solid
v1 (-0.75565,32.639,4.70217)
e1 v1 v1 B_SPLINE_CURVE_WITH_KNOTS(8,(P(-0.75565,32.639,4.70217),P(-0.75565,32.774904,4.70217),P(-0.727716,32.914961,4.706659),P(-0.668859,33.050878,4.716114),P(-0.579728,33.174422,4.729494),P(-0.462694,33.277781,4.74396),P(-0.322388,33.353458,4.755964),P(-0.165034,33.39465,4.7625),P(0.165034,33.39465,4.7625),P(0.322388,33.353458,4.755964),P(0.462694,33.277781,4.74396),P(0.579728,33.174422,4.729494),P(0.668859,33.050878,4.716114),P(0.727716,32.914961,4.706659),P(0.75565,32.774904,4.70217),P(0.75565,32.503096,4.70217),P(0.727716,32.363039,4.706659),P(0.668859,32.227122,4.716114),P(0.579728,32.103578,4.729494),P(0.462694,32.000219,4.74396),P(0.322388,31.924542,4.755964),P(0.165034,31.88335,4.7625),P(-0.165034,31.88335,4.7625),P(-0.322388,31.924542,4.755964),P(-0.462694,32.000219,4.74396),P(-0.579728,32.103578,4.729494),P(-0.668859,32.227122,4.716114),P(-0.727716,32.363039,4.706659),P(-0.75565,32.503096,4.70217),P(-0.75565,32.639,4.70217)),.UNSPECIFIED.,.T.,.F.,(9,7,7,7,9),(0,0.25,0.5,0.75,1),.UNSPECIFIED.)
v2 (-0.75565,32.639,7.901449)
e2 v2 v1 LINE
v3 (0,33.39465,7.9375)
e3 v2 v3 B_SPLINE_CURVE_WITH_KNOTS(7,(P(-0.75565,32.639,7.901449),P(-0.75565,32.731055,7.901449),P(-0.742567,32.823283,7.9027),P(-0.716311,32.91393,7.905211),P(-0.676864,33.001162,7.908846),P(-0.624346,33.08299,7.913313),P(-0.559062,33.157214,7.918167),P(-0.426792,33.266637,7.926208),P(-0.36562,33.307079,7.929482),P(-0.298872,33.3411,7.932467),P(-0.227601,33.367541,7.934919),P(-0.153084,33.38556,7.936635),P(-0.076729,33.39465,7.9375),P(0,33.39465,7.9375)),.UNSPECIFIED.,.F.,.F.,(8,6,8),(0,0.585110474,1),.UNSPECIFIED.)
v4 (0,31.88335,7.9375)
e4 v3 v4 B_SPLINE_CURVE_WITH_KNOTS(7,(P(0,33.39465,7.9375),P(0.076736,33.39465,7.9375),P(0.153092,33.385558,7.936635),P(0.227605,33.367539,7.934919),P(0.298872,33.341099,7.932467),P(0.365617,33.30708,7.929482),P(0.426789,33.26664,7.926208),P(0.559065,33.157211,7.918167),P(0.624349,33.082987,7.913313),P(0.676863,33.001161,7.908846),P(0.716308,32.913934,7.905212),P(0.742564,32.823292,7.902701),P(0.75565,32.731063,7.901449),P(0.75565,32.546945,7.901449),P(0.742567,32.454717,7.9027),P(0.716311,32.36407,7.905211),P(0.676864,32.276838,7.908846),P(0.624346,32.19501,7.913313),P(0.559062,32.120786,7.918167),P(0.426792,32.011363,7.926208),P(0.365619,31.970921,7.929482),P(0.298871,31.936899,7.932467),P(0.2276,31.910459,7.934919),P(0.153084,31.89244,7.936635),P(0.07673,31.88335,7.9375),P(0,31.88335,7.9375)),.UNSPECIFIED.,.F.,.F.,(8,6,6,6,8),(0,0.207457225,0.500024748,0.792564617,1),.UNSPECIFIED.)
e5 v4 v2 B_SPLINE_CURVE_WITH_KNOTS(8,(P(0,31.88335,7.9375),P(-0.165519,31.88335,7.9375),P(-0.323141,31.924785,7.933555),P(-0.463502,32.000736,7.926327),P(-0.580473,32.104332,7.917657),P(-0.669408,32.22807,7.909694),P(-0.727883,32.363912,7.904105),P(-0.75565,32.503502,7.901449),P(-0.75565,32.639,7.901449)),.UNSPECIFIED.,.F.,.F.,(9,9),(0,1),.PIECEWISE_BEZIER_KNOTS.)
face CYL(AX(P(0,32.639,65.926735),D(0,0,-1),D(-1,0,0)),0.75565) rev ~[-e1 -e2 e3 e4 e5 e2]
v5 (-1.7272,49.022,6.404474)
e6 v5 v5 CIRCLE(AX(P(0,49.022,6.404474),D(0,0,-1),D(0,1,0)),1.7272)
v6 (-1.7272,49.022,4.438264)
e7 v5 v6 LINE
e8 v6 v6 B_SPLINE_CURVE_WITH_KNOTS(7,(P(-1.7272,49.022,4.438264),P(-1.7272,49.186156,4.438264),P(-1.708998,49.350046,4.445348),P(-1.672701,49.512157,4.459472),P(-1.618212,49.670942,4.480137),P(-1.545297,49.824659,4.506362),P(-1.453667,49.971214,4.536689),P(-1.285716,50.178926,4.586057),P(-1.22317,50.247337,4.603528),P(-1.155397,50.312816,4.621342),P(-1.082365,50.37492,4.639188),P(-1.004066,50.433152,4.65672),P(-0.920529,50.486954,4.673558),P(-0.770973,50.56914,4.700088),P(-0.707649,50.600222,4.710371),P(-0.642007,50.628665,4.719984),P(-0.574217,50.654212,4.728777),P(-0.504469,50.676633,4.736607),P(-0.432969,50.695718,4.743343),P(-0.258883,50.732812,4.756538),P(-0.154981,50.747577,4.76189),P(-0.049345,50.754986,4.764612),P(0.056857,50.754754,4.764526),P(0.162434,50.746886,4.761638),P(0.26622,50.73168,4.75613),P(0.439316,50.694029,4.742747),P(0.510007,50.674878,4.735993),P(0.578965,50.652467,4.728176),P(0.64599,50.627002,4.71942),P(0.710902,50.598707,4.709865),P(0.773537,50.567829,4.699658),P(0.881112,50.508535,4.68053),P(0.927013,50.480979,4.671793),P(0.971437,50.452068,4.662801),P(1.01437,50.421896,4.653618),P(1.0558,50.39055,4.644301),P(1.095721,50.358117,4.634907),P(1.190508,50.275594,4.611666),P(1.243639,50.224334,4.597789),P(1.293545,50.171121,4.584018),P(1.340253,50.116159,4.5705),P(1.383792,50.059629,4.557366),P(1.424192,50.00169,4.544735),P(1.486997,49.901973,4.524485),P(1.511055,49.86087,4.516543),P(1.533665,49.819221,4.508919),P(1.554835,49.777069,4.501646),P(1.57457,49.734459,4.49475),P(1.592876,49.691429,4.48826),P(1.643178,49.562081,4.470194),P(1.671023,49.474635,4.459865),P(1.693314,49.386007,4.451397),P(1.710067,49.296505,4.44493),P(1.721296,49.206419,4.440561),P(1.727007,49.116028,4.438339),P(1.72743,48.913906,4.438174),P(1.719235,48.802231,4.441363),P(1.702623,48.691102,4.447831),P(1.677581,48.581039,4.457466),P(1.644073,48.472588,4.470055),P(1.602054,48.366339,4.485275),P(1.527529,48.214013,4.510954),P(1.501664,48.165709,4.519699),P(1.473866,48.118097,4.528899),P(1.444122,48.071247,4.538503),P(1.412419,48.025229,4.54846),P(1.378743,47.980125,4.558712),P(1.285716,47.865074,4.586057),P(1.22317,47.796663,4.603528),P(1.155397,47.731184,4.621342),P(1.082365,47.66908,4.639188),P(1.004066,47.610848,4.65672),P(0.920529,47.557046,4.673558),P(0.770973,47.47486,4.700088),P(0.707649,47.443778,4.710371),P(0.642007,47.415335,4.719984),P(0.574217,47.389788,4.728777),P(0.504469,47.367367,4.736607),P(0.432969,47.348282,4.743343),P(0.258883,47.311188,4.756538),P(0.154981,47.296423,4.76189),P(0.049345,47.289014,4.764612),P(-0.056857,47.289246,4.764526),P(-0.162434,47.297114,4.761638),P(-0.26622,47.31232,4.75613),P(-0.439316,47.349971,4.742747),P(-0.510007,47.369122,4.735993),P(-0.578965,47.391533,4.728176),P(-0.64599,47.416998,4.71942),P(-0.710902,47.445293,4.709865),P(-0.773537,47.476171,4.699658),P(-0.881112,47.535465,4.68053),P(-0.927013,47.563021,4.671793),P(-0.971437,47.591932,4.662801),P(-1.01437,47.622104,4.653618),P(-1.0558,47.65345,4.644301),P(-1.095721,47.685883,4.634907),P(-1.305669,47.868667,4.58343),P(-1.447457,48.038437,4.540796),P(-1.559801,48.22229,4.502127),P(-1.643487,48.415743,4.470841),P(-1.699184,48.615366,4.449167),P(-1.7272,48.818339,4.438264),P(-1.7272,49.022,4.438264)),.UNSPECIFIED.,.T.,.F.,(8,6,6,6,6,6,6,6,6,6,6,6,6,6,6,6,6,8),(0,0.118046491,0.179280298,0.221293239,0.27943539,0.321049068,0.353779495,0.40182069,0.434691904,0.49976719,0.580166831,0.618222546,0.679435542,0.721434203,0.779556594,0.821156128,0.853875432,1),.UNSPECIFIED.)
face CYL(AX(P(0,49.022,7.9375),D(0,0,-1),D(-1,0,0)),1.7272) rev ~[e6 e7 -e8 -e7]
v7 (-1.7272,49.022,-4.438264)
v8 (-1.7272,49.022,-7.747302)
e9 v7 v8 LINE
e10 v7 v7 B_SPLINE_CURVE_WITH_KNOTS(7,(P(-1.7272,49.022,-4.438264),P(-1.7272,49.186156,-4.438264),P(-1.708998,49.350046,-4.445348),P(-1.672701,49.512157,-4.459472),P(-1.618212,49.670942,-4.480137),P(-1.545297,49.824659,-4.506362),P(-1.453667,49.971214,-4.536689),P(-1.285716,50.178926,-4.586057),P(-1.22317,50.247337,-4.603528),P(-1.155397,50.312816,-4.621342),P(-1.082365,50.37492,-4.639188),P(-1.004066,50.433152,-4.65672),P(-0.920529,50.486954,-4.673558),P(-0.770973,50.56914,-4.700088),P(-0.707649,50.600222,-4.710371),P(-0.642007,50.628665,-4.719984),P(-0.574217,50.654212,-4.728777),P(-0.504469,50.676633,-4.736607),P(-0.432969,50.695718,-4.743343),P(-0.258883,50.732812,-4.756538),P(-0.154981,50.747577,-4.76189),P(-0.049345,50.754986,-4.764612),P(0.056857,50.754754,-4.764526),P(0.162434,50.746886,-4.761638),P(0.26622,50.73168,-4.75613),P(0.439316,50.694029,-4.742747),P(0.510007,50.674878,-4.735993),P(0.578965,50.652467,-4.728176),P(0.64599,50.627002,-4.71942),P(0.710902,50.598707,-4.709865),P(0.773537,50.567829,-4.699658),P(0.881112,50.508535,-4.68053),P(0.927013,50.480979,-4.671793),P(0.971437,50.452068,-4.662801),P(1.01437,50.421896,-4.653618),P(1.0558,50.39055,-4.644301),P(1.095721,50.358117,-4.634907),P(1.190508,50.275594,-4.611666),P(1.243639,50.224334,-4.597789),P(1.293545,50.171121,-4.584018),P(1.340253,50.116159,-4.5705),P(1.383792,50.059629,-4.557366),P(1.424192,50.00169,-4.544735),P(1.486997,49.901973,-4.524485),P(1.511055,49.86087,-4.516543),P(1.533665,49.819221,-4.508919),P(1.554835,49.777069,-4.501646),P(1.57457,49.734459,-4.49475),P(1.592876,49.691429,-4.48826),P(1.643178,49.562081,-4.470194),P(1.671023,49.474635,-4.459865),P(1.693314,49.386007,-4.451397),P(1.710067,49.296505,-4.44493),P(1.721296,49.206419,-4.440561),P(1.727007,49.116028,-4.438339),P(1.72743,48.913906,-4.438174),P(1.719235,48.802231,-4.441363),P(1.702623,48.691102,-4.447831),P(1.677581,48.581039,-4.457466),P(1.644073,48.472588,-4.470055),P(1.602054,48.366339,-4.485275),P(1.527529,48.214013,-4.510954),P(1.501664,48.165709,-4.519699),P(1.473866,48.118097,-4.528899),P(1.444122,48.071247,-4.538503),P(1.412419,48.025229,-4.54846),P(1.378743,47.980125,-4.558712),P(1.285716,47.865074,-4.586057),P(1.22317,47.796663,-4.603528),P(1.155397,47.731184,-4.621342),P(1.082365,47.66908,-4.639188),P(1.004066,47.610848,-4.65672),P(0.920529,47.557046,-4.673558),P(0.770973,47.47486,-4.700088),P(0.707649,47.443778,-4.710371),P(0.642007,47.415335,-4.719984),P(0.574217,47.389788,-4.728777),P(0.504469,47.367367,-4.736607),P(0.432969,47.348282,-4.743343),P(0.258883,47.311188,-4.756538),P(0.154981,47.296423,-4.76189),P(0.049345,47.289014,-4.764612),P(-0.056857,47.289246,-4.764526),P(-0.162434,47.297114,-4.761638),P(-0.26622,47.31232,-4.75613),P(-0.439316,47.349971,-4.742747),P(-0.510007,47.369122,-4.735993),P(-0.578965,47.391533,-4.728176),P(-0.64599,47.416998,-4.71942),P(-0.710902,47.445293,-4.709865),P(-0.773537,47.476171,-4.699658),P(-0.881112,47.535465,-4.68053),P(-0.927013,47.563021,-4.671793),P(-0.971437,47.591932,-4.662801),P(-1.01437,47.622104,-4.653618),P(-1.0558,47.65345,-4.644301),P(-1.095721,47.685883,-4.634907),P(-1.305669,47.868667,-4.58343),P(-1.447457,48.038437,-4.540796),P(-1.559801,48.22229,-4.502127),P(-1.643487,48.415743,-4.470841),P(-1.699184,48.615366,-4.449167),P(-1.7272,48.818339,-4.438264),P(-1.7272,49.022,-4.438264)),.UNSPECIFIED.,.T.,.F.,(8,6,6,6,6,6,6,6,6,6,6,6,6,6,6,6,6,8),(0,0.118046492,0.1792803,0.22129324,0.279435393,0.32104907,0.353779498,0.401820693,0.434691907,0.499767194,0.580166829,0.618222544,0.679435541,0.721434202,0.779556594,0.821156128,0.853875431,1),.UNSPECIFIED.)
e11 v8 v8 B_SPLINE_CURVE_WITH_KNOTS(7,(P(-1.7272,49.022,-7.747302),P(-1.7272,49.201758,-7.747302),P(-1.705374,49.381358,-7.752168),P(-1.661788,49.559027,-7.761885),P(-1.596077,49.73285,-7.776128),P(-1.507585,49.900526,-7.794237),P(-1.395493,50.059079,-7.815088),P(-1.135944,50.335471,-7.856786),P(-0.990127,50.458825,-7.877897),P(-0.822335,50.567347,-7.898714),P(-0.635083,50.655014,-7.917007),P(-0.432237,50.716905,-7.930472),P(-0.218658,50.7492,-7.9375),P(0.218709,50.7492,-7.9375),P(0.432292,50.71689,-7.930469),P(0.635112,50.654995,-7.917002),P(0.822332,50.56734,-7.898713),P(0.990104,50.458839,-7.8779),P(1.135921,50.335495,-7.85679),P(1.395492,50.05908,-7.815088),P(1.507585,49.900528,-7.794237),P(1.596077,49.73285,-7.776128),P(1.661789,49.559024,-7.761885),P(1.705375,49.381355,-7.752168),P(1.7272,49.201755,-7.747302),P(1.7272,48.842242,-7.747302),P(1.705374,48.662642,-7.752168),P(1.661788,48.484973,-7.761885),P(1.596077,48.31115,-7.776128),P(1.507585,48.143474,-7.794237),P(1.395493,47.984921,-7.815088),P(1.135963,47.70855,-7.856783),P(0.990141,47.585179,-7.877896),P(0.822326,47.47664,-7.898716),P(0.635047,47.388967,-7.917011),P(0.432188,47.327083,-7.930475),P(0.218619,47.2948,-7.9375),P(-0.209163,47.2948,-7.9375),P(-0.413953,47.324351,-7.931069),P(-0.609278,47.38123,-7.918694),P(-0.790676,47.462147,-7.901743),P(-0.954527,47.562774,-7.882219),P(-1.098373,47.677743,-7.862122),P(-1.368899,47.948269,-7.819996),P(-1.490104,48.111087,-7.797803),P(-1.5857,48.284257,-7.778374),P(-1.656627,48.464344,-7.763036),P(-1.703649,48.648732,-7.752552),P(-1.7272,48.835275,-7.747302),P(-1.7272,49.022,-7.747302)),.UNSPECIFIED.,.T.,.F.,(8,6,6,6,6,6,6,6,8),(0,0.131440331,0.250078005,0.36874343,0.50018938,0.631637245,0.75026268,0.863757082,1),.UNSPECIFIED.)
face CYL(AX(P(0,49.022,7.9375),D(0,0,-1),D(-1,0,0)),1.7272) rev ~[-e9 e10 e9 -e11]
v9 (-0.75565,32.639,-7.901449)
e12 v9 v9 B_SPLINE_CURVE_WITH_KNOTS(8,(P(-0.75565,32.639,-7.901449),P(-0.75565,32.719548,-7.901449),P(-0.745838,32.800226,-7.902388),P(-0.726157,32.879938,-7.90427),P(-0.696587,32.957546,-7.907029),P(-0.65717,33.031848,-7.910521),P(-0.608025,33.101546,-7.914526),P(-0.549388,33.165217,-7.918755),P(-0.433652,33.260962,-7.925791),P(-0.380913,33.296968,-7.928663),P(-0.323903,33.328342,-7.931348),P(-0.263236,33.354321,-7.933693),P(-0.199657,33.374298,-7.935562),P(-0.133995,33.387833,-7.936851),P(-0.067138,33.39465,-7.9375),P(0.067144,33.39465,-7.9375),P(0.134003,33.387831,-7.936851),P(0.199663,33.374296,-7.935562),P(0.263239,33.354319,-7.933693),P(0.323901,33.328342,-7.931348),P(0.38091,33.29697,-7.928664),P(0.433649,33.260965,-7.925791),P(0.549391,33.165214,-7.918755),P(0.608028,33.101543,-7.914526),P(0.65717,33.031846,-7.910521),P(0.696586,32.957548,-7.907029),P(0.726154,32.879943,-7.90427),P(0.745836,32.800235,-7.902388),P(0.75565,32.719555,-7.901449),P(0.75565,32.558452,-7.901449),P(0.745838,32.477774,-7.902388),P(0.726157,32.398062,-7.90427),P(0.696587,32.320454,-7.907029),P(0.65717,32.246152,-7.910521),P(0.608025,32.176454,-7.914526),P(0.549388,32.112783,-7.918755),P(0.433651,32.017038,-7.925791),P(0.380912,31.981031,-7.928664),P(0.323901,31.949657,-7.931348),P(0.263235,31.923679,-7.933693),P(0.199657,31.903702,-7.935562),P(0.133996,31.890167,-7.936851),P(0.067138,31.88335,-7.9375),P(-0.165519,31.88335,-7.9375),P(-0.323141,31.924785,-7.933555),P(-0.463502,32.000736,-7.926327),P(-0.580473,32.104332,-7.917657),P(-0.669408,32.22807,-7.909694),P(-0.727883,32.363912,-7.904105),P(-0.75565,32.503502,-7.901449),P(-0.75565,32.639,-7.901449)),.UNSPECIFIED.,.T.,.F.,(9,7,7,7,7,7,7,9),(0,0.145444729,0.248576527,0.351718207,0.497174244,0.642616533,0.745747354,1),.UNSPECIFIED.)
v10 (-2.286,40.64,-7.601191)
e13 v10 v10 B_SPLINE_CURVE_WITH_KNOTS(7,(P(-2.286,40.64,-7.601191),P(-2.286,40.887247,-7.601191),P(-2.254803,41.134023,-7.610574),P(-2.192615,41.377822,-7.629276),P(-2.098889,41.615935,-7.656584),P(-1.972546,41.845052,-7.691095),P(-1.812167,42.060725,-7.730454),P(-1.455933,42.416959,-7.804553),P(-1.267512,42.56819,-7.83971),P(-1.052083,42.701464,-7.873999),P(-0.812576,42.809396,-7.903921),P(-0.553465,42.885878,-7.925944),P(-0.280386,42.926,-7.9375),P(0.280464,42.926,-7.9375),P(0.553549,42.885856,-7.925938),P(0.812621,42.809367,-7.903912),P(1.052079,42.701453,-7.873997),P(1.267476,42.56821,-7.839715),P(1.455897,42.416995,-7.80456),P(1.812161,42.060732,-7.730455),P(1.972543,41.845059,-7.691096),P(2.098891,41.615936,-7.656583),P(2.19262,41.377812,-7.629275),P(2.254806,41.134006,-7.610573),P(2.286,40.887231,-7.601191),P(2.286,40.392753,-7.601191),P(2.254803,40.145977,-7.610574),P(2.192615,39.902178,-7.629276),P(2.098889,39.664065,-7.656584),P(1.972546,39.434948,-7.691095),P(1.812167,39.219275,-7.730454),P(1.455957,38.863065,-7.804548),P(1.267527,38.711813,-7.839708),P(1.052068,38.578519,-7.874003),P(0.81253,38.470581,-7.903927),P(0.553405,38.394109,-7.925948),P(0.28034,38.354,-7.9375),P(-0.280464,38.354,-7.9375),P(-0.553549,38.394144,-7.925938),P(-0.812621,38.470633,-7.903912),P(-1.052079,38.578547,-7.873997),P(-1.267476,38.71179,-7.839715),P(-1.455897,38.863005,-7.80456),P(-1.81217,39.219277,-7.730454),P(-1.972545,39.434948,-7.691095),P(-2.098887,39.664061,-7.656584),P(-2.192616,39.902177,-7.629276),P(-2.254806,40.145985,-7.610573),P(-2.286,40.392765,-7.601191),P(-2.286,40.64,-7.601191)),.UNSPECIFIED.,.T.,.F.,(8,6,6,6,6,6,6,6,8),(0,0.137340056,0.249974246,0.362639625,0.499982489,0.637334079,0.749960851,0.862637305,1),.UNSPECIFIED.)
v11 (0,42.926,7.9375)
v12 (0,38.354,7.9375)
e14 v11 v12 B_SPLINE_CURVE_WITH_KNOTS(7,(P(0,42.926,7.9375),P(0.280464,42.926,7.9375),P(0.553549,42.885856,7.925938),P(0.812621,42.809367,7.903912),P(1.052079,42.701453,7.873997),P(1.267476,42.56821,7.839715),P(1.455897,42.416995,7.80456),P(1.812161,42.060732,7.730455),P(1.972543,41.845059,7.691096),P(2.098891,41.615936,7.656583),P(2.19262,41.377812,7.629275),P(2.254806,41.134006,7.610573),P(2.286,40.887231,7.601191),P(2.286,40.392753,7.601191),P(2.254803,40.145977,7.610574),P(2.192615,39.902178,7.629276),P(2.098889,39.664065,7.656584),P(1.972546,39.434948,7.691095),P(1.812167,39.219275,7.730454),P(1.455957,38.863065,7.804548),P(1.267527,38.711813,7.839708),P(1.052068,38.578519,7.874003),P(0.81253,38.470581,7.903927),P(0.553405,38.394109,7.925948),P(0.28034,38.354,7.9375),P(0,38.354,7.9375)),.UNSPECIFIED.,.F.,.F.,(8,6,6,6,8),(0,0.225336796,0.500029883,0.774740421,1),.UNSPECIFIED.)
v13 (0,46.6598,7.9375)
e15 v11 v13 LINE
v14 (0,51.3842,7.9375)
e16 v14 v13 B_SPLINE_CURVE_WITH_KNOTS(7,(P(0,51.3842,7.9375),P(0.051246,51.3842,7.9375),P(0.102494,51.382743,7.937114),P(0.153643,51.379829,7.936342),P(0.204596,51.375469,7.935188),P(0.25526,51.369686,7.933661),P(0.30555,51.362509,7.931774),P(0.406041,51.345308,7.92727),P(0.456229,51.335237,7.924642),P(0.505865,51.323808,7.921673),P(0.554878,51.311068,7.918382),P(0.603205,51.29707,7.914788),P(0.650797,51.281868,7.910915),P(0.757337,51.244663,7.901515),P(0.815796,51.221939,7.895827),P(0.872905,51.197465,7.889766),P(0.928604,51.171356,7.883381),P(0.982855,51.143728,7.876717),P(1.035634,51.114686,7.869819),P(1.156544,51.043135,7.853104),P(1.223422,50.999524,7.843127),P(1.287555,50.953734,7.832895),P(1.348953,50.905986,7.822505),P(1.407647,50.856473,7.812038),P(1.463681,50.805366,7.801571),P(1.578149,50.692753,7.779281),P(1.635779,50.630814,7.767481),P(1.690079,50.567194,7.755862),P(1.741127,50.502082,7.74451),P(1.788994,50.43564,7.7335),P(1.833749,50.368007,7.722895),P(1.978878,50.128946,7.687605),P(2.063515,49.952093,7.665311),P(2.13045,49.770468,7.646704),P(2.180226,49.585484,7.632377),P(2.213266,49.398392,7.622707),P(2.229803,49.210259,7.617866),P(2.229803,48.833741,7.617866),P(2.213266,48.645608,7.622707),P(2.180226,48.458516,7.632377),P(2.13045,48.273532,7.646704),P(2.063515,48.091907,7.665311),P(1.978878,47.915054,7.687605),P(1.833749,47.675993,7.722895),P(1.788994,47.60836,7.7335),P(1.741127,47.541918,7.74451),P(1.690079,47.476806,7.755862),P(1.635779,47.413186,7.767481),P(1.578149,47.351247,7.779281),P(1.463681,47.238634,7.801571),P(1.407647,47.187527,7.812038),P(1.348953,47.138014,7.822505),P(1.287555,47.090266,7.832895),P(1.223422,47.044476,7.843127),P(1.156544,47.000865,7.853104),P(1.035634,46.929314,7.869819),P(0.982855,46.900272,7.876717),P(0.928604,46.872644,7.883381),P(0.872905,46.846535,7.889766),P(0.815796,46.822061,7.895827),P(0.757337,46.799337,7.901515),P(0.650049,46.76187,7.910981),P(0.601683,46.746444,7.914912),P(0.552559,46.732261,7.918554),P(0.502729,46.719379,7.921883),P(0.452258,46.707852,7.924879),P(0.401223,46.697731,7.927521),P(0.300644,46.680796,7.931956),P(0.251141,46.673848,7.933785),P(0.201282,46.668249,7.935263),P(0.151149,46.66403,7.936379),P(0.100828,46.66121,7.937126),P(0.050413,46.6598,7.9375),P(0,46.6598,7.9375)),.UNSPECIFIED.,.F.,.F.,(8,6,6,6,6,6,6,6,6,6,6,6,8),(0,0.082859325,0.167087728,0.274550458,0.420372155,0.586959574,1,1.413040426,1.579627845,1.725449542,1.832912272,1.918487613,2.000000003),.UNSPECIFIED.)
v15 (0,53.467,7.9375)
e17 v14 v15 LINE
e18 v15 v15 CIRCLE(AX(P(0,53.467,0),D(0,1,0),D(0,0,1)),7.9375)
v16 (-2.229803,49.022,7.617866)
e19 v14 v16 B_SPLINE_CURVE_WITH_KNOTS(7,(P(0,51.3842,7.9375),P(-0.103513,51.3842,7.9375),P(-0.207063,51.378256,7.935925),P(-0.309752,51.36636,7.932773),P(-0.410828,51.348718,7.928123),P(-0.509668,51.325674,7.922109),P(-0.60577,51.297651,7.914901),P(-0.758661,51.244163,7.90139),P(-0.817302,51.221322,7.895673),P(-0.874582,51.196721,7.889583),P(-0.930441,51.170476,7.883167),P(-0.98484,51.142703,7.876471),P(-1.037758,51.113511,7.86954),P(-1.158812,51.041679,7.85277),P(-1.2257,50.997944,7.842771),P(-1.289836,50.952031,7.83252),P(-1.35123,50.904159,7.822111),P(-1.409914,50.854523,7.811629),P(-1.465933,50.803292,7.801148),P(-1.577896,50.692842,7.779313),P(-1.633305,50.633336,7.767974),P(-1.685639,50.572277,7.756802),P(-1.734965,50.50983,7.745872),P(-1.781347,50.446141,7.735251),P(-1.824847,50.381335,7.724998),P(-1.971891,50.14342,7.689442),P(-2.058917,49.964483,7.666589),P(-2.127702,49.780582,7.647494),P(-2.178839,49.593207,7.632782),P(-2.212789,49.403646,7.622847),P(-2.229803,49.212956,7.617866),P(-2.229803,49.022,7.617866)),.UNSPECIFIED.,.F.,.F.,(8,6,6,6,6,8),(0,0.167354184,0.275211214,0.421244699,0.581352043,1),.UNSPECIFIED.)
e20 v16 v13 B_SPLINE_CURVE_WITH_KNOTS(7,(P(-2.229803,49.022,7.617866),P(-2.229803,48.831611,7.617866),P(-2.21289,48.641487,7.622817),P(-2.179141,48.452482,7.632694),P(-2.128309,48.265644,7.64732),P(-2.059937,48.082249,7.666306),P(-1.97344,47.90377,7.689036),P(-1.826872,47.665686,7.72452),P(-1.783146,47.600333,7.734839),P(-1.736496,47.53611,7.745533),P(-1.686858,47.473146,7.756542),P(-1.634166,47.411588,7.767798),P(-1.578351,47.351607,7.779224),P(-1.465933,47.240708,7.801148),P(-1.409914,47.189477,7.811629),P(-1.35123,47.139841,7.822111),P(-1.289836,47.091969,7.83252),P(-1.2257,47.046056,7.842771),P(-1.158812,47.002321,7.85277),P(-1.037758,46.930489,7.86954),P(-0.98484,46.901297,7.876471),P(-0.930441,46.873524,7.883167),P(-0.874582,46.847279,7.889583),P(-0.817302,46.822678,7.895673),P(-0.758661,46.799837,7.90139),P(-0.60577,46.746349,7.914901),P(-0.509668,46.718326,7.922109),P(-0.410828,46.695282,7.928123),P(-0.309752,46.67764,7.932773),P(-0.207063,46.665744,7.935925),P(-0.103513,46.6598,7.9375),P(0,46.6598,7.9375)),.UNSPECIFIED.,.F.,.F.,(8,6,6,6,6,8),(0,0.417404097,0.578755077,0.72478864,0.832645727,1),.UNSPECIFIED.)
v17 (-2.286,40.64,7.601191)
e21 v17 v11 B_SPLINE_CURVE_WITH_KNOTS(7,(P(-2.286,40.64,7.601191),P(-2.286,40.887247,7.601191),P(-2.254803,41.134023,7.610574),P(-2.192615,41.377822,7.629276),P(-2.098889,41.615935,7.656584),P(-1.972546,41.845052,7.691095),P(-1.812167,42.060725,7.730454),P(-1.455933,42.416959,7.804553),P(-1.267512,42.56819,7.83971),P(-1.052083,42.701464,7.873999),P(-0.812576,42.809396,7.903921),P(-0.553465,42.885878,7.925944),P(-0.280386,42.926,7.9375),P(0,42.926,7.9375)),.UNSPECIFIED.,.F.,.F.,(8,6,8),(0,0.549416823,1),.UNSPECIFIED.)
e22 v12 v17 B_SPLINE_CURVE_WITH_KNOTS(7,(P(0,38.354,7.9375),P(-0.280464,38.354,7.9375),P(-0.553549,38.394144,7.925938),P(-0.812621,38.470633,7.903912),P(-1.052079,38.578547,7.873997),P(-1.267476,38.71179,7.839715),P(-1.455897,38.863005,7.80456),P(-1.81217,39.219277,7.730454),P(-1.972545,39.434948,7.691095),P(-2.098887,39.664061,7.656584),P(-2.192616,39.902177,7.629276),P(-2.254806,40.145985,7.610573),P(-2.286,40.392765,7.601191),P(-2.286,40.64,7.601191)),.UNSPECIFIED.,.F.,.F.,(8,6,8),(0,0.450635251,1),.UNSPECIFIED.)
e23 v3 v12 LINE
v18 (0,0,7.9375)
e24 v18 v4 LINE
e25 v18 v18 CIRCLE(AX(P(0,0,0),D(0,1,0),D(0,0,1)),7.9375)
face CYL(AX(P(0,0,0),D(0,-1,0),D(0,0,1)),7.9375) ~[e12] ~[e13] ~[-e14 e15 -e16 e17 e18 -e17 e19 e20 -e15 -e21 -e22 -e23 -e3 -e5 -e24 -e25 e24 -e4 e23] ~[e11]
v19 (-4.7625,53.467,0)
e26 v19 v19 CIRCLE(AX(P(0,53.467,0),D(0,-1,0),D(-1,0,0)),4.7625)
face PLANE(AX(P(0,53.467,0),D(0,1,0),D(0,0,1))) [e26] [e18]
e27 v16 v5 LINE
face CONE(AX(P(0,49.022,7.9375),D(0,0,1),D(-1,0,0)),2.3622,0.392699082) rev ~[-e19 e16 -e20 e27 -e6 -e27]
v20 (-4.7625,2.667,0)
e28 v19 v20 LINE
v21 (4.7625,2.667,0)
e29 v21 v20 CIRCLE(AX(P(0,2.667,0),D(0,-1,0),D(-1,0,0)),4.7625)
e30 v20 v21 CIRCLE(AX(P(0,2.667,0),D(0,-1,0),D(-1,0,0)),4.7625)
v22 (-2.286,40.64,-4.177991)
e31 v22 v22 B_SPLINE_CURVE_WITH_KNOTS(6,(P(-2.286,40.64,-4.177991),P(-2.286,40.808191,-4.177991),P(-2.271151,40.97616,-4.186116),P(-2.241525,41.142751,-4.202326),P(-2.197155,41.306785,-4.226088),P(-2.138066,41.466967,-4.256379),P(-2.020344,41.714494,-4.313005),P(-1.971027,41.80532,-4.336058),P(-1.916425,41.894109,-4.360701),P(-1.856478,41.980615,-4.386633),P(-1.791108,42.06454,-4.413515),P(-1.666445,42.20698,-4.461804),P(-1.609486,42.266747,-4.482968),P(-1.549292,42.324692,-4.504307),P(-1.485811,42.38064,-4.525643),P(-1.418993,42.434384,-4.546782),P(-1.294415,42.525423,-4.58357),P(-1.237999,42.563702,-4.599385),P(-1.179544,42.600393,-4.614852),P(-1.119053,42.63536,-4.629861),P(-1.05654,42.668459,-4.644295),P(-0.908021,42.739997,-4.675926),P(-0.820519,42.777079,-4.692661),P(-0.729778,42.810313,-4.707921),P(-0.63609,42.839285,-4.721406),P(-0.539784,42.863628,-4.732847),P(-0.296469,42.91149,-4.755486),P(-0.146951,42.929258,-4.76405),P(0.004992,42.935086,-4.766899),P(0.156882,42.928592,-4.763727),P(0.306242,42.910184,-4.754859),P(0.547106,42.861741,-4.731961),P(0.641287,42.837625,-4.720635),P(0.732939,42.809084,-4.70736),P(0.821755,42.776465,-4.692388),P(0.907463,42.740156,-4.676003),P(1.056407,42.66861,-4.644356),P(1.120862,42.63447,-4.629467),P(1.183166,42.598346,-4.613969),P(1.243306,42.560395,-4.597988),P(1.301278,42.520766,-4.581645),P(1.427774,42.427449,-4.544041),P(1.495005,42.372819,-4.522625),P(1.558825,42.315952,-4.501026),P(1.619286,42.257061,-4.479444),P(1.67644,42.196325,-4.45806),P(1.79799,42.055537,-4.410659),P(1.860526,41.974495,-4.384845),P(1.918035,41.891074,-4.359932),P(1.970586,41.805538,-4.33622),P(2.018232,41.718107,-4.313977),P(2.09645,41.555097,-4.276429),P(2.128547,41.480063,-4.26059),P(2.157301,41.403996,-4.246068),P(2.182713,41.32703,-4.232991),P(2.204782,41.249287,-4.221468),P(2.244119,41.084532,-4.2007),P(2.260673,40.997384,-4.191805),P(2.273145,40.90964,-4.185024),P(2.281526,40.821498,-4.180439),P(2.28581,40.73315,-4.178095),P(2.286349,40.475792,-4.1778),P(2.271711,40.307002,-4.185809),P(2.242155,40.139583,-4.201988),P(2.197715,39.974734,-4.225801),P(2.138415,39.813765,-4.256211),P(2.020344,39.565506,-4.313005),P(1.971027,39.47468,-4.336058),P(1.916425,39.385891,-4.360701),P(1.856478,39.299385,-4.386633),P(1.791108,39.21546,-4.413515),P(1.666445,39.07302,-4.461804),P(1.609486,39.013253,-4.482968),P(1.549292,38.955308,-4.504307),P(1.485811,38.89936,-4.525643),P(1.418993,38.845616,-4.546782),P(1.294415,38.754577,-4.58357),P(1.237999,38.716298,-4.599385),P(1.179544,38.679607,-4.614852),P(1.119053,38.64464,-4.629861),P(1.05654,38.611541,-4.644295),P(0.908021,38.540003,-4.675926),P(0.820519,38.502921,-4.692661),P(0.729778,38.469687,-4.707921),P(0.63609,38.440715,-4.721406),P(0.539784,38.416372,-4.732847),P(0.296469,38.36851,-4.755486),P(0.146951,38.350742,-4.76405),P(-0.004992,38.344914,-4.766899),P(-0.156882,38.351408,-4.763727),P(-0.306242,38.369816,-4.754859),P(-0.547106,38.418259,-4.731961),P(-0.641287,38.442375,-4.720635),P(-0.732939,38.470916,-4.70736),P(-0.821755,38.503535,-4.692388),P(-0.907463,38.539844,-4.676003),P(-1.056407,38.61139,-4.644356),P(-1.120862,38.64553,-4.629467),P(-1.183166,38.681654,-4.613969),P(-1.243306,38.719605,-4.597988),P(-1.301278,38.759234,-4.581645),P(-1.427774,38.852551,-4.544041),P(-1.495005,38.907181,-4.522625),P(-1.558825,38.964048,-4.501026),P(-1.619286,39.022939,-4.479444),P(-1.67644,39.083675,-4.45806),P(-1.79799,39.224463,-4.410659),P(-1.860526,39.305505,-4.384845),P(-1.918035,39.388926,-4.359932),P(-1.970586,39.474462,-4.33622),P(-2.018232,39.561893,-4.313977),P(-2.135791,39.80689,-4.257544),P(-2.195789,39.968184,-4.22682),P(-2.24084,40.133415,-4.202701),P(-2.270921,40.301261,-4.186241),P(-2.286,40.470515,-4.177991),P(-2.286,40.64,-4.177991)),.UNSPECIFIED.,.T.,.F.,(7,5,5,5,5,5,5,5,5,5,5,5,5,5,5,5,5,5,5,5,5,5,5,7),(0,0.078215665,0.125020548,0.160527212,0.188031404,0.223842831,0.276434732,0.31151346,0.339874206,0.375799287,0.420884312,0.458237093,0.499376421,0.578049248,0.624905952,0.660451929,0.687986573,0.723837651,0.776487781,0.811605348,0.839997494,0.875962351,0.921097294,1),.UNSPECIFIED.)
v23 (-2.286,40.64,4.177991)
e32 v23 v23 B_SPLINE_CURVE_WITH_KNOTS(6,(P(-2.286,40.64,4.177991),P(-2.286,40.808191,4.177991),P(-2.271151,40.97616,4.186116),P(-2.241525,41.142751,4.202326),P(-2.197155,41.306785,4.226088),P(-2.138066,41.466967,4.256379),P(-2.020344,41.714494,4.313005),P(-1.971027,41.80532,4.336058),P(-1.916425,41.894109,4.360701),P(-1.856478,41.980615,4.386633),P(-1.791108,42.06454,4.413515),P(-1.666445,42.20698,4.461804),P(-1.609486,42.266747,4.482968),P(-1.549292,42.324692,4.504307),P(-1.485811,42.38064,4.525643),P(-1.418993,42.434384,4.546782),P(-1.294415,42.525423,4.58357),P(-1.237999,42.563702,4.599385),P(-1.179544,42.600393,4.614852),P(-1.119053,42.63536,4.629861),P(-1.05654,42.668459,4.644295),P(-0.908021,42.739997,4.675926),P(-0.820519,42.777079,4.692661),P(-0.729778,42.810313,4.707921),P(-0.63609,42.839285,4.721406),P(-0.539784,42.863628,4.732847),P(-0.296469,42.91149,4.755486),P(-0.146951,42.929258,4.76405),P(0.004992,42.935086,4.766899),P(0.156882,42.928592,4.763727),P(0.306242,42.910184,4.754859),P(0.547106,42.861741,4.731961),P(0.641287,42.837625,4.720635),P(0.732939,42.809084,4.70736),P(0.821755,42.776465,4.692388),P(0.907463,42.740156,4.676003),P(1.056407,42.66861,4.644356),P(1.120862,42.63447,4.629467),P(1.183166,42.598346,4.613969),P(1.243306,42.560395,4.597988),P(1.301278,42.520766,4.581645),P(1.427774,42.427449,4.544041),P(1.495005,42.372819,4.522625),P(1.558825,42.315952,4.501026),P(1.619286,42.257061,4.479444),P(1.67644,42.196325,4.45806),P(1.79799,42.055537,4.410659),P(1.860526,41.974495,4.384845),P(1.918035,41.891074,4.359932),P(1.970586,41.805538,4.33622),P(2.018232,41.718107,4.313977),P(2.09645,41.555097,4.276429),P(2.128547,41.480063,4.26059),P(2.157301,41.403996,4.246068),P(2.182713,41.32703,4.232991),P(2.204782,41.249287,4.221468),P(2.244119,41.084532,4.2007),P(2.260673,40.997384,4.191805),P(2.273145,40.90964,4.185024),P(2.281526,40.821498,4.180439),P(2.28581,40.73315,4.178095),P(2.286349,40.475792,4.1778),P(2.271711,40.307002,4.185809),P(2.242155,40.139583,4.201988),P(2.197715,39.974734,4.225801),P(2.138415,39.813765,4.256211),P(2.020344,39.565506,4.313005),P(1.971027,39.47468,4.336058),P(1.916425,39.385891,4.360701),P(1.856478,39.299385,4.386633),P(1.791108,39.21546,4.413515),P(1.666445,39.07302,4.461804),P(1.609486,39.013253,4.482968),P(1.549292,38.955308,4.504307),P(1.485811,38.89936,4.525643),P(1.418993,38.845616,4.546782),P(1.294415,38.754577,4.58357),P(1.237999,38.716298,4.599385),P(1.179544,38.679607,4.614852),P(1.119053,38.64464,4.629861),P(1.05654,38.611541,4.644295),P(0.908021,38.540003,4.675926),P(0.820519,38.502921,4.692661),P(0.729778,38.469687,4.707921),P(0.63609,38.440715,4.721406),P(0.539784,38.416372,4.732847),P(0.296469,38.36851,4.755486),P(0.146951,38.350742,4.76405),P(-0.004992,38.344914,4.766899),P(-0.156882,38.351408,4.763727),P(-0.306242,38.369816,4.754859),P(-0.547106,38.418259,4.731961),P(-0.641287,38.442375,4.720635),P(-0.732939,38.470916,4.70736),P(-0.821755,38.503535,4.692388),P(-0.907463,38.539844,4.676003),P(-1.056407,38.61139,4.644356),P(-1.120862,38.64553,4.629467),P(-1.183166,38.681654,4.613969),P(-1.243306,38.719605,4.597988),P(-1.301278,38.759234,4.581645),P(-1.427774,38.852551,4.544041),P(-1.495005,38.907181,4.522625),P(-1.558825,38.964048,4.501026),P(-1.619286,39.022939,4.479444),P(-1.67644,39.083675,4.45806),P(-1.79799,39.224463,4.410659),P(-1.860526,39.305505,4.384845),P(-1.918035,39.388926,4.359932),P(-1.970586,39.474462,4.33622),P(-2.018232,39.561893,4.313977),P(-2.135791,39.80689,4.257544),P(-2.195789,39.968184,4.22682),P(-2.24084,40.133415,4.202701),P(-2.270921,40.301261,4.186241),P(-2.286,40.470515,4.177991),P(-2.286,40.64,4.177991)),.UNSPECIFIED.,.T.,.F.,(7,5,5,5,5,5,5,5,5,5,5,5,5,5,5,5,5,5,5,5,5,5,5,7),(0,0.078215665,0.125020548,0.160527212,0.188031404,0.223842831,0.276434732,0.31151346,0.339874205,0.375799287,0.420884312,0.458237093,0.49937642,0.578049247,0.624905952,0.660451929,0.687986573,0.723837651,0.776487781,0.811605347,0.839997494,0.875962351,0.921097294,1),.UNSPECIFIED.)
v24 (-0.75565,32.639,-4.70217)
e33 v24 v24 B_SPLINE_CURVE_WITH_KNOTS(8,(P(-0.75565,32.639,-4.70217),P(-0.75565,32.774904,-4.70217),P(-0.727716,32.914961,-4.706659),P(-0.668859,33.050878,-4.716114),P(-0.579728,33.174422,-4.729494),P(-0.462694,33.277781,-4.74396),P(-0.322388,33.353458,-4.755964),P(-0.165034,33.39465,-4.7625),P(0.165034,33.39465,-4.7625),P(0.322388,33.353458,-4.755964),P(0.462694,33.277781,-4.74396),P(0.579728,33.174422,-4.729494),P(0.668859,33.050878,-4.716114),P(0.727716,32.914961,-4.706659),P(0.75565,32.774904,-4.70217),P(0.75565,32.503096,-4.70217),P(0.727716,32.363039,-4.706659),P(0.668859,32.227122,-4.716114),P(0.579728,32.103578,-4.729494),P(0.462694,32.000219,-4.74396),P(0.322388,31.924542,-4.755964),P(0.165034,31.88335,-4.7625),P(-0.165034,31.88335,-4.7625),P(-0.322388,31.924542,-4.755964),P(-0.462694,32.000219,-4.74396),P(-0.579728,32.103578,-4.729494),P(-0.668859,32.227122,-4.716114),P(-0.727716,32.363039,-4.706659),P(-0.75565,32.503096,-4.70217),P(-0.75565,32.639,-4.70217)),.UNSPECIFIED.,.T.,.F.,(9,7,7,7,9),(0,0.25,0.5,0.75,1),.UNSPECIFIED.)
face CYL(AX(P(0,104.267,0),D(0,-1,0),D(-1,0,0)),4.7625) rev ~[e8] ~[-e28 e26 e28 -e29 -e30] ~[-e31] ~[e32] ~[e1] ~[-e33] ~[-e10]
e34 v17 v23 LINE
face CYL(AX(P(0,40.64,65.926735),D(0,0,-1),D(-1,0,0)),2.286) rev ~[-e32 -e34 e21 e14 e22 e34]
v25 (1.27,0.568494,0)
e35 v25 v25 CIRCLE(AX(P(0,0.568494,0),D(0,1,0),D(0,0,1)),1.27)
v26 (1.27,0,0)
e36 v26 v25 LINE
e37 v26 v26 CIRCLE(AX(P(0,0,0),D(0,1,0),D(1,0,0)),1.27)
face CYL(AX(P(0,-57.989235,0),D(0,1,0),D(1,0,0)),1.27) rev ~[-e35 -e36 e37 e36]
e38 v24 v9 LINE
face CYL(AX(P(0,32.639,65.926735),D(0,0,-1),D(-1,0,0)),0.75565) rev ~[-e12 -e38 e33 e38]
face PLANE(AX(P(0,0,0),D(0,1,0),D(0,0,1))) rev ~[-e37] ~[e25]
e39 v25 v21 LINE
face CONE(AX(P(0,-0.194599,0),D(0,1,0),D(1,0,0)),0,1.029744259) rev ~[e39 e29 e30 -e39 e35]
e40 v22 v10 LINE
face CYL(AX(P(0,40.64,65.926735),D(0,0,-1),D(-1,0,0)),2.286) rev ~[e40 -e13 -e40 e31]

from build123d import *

# Parameters (mm, degrees)
SKETCH1_R                             = 7.9375
BOSS_EXTRUDE1_DEPTH                   = 53.467
F_29_0_136_DIAMETER_HOLE1_D           = 3.4544
F_29_0_136_DIAMETER_HOLE1_CSINK_D     = 4.7244
F_29_0_136_DIAMETER_HOLE1_CSINK_ANGLE = 45
F_15_0_18_DIAMETER_HOLE1_D            = 4.572
F_53_0_0595_DIAMETER_HOLE1_D          = 1.5113
F_3_8_0_375_DIAMETER_HOLE1_D          = 9.525
F_3_8_0_375_DIAMETER_HOLE1_DEPTH      = 50.8
F_3_8_0_375_DIAMETER_HOLE1_TIP        = 2.861598698
F_39_0_0995_DIAMETER_HOLE1_D          = 2.54


with BuildPart() as part:
    # Sketch1 → Boss-Extrude1 (new body)
    with BuildSketch(Plane(origin=(0, 0, 0), x_dir=(1, 0, 0), z_dir=(0, 1, 0))):
        with Locations(Location((0, 0, 0), (0, 0, 270))):
            Circle(SKETCH1_R)
    extrude(amount=BOSS_EXTRUDE1_DEPTH)

    # #29 (0.136) Diameter Hole1 (through all)
    with Locations(Plane.XY.offset(7.9375)):
        with Locations((0, 49.022)):
            CounterSinkHole(F_29_0_136_DIAMETER_HOLE1_D / 2, F_29_0_136_DIAMETER_HOLE1_CSINK_D / 2, counter_sink_angle=F_29_0_136_DIAMETER_HOLE1_CSINK_ANGLE)

    # #15 (0.18) Diameter Hole1 (through all)
    with Locations(Plane.XY.offset(7.9375)):
        with Locations((0, 40.64)):
            Hole(F_15_0_18_DIAMETER_HOLE1_D / 2)

    # #53 (0.0595) Diameter Hole1 (through all)
    with Locations(Plane.XY.offset(7.9375)):
        with Locations((0, 32.639)):
            Hole(F_53_0_0595_DIAMETER_HOLE1_D / 2)

    # 3/8 (0.375) Diameter Hole1
    with Locations(Plane(origin=(0, 53.467, 0), x_dir=(1, 0, 0), z_dir=(0, 1, 0))):
        with Locations((0, 0)):
            Hole(F_3_8_0_375_DIAMETER_HOLE1_D / 2, depth=F_3_8_0_375_DIAMETER_HOLE1_DEPTH)
            with Locations((0, 0, -(F_3_8_0_375_DIAMETER_HOLE1_DEPTH + F_3_8_0_375_DIAMETER_HOLE1_TIP / 2))):  # 118° drill point
                Cone(0, F_3_8_0_375_DIAMETER_HOLE1_D / 2, F_3_8_0_375_DIAMETER_HOLE1_TIP, mode=Mode.SUBTRACT)

    # #39 (0.0995) Diameter Hole1 (through all)
    with Locations(Plane(origin=(0, 0, 0), x_dir=(-1, 0, 0), z_dir=(0, -1, 0))):
        with Locations((0, 0)):
            Hole(F_39_0_0995_DIAMETER_HOLE1_D / 2)


solid = part.part
